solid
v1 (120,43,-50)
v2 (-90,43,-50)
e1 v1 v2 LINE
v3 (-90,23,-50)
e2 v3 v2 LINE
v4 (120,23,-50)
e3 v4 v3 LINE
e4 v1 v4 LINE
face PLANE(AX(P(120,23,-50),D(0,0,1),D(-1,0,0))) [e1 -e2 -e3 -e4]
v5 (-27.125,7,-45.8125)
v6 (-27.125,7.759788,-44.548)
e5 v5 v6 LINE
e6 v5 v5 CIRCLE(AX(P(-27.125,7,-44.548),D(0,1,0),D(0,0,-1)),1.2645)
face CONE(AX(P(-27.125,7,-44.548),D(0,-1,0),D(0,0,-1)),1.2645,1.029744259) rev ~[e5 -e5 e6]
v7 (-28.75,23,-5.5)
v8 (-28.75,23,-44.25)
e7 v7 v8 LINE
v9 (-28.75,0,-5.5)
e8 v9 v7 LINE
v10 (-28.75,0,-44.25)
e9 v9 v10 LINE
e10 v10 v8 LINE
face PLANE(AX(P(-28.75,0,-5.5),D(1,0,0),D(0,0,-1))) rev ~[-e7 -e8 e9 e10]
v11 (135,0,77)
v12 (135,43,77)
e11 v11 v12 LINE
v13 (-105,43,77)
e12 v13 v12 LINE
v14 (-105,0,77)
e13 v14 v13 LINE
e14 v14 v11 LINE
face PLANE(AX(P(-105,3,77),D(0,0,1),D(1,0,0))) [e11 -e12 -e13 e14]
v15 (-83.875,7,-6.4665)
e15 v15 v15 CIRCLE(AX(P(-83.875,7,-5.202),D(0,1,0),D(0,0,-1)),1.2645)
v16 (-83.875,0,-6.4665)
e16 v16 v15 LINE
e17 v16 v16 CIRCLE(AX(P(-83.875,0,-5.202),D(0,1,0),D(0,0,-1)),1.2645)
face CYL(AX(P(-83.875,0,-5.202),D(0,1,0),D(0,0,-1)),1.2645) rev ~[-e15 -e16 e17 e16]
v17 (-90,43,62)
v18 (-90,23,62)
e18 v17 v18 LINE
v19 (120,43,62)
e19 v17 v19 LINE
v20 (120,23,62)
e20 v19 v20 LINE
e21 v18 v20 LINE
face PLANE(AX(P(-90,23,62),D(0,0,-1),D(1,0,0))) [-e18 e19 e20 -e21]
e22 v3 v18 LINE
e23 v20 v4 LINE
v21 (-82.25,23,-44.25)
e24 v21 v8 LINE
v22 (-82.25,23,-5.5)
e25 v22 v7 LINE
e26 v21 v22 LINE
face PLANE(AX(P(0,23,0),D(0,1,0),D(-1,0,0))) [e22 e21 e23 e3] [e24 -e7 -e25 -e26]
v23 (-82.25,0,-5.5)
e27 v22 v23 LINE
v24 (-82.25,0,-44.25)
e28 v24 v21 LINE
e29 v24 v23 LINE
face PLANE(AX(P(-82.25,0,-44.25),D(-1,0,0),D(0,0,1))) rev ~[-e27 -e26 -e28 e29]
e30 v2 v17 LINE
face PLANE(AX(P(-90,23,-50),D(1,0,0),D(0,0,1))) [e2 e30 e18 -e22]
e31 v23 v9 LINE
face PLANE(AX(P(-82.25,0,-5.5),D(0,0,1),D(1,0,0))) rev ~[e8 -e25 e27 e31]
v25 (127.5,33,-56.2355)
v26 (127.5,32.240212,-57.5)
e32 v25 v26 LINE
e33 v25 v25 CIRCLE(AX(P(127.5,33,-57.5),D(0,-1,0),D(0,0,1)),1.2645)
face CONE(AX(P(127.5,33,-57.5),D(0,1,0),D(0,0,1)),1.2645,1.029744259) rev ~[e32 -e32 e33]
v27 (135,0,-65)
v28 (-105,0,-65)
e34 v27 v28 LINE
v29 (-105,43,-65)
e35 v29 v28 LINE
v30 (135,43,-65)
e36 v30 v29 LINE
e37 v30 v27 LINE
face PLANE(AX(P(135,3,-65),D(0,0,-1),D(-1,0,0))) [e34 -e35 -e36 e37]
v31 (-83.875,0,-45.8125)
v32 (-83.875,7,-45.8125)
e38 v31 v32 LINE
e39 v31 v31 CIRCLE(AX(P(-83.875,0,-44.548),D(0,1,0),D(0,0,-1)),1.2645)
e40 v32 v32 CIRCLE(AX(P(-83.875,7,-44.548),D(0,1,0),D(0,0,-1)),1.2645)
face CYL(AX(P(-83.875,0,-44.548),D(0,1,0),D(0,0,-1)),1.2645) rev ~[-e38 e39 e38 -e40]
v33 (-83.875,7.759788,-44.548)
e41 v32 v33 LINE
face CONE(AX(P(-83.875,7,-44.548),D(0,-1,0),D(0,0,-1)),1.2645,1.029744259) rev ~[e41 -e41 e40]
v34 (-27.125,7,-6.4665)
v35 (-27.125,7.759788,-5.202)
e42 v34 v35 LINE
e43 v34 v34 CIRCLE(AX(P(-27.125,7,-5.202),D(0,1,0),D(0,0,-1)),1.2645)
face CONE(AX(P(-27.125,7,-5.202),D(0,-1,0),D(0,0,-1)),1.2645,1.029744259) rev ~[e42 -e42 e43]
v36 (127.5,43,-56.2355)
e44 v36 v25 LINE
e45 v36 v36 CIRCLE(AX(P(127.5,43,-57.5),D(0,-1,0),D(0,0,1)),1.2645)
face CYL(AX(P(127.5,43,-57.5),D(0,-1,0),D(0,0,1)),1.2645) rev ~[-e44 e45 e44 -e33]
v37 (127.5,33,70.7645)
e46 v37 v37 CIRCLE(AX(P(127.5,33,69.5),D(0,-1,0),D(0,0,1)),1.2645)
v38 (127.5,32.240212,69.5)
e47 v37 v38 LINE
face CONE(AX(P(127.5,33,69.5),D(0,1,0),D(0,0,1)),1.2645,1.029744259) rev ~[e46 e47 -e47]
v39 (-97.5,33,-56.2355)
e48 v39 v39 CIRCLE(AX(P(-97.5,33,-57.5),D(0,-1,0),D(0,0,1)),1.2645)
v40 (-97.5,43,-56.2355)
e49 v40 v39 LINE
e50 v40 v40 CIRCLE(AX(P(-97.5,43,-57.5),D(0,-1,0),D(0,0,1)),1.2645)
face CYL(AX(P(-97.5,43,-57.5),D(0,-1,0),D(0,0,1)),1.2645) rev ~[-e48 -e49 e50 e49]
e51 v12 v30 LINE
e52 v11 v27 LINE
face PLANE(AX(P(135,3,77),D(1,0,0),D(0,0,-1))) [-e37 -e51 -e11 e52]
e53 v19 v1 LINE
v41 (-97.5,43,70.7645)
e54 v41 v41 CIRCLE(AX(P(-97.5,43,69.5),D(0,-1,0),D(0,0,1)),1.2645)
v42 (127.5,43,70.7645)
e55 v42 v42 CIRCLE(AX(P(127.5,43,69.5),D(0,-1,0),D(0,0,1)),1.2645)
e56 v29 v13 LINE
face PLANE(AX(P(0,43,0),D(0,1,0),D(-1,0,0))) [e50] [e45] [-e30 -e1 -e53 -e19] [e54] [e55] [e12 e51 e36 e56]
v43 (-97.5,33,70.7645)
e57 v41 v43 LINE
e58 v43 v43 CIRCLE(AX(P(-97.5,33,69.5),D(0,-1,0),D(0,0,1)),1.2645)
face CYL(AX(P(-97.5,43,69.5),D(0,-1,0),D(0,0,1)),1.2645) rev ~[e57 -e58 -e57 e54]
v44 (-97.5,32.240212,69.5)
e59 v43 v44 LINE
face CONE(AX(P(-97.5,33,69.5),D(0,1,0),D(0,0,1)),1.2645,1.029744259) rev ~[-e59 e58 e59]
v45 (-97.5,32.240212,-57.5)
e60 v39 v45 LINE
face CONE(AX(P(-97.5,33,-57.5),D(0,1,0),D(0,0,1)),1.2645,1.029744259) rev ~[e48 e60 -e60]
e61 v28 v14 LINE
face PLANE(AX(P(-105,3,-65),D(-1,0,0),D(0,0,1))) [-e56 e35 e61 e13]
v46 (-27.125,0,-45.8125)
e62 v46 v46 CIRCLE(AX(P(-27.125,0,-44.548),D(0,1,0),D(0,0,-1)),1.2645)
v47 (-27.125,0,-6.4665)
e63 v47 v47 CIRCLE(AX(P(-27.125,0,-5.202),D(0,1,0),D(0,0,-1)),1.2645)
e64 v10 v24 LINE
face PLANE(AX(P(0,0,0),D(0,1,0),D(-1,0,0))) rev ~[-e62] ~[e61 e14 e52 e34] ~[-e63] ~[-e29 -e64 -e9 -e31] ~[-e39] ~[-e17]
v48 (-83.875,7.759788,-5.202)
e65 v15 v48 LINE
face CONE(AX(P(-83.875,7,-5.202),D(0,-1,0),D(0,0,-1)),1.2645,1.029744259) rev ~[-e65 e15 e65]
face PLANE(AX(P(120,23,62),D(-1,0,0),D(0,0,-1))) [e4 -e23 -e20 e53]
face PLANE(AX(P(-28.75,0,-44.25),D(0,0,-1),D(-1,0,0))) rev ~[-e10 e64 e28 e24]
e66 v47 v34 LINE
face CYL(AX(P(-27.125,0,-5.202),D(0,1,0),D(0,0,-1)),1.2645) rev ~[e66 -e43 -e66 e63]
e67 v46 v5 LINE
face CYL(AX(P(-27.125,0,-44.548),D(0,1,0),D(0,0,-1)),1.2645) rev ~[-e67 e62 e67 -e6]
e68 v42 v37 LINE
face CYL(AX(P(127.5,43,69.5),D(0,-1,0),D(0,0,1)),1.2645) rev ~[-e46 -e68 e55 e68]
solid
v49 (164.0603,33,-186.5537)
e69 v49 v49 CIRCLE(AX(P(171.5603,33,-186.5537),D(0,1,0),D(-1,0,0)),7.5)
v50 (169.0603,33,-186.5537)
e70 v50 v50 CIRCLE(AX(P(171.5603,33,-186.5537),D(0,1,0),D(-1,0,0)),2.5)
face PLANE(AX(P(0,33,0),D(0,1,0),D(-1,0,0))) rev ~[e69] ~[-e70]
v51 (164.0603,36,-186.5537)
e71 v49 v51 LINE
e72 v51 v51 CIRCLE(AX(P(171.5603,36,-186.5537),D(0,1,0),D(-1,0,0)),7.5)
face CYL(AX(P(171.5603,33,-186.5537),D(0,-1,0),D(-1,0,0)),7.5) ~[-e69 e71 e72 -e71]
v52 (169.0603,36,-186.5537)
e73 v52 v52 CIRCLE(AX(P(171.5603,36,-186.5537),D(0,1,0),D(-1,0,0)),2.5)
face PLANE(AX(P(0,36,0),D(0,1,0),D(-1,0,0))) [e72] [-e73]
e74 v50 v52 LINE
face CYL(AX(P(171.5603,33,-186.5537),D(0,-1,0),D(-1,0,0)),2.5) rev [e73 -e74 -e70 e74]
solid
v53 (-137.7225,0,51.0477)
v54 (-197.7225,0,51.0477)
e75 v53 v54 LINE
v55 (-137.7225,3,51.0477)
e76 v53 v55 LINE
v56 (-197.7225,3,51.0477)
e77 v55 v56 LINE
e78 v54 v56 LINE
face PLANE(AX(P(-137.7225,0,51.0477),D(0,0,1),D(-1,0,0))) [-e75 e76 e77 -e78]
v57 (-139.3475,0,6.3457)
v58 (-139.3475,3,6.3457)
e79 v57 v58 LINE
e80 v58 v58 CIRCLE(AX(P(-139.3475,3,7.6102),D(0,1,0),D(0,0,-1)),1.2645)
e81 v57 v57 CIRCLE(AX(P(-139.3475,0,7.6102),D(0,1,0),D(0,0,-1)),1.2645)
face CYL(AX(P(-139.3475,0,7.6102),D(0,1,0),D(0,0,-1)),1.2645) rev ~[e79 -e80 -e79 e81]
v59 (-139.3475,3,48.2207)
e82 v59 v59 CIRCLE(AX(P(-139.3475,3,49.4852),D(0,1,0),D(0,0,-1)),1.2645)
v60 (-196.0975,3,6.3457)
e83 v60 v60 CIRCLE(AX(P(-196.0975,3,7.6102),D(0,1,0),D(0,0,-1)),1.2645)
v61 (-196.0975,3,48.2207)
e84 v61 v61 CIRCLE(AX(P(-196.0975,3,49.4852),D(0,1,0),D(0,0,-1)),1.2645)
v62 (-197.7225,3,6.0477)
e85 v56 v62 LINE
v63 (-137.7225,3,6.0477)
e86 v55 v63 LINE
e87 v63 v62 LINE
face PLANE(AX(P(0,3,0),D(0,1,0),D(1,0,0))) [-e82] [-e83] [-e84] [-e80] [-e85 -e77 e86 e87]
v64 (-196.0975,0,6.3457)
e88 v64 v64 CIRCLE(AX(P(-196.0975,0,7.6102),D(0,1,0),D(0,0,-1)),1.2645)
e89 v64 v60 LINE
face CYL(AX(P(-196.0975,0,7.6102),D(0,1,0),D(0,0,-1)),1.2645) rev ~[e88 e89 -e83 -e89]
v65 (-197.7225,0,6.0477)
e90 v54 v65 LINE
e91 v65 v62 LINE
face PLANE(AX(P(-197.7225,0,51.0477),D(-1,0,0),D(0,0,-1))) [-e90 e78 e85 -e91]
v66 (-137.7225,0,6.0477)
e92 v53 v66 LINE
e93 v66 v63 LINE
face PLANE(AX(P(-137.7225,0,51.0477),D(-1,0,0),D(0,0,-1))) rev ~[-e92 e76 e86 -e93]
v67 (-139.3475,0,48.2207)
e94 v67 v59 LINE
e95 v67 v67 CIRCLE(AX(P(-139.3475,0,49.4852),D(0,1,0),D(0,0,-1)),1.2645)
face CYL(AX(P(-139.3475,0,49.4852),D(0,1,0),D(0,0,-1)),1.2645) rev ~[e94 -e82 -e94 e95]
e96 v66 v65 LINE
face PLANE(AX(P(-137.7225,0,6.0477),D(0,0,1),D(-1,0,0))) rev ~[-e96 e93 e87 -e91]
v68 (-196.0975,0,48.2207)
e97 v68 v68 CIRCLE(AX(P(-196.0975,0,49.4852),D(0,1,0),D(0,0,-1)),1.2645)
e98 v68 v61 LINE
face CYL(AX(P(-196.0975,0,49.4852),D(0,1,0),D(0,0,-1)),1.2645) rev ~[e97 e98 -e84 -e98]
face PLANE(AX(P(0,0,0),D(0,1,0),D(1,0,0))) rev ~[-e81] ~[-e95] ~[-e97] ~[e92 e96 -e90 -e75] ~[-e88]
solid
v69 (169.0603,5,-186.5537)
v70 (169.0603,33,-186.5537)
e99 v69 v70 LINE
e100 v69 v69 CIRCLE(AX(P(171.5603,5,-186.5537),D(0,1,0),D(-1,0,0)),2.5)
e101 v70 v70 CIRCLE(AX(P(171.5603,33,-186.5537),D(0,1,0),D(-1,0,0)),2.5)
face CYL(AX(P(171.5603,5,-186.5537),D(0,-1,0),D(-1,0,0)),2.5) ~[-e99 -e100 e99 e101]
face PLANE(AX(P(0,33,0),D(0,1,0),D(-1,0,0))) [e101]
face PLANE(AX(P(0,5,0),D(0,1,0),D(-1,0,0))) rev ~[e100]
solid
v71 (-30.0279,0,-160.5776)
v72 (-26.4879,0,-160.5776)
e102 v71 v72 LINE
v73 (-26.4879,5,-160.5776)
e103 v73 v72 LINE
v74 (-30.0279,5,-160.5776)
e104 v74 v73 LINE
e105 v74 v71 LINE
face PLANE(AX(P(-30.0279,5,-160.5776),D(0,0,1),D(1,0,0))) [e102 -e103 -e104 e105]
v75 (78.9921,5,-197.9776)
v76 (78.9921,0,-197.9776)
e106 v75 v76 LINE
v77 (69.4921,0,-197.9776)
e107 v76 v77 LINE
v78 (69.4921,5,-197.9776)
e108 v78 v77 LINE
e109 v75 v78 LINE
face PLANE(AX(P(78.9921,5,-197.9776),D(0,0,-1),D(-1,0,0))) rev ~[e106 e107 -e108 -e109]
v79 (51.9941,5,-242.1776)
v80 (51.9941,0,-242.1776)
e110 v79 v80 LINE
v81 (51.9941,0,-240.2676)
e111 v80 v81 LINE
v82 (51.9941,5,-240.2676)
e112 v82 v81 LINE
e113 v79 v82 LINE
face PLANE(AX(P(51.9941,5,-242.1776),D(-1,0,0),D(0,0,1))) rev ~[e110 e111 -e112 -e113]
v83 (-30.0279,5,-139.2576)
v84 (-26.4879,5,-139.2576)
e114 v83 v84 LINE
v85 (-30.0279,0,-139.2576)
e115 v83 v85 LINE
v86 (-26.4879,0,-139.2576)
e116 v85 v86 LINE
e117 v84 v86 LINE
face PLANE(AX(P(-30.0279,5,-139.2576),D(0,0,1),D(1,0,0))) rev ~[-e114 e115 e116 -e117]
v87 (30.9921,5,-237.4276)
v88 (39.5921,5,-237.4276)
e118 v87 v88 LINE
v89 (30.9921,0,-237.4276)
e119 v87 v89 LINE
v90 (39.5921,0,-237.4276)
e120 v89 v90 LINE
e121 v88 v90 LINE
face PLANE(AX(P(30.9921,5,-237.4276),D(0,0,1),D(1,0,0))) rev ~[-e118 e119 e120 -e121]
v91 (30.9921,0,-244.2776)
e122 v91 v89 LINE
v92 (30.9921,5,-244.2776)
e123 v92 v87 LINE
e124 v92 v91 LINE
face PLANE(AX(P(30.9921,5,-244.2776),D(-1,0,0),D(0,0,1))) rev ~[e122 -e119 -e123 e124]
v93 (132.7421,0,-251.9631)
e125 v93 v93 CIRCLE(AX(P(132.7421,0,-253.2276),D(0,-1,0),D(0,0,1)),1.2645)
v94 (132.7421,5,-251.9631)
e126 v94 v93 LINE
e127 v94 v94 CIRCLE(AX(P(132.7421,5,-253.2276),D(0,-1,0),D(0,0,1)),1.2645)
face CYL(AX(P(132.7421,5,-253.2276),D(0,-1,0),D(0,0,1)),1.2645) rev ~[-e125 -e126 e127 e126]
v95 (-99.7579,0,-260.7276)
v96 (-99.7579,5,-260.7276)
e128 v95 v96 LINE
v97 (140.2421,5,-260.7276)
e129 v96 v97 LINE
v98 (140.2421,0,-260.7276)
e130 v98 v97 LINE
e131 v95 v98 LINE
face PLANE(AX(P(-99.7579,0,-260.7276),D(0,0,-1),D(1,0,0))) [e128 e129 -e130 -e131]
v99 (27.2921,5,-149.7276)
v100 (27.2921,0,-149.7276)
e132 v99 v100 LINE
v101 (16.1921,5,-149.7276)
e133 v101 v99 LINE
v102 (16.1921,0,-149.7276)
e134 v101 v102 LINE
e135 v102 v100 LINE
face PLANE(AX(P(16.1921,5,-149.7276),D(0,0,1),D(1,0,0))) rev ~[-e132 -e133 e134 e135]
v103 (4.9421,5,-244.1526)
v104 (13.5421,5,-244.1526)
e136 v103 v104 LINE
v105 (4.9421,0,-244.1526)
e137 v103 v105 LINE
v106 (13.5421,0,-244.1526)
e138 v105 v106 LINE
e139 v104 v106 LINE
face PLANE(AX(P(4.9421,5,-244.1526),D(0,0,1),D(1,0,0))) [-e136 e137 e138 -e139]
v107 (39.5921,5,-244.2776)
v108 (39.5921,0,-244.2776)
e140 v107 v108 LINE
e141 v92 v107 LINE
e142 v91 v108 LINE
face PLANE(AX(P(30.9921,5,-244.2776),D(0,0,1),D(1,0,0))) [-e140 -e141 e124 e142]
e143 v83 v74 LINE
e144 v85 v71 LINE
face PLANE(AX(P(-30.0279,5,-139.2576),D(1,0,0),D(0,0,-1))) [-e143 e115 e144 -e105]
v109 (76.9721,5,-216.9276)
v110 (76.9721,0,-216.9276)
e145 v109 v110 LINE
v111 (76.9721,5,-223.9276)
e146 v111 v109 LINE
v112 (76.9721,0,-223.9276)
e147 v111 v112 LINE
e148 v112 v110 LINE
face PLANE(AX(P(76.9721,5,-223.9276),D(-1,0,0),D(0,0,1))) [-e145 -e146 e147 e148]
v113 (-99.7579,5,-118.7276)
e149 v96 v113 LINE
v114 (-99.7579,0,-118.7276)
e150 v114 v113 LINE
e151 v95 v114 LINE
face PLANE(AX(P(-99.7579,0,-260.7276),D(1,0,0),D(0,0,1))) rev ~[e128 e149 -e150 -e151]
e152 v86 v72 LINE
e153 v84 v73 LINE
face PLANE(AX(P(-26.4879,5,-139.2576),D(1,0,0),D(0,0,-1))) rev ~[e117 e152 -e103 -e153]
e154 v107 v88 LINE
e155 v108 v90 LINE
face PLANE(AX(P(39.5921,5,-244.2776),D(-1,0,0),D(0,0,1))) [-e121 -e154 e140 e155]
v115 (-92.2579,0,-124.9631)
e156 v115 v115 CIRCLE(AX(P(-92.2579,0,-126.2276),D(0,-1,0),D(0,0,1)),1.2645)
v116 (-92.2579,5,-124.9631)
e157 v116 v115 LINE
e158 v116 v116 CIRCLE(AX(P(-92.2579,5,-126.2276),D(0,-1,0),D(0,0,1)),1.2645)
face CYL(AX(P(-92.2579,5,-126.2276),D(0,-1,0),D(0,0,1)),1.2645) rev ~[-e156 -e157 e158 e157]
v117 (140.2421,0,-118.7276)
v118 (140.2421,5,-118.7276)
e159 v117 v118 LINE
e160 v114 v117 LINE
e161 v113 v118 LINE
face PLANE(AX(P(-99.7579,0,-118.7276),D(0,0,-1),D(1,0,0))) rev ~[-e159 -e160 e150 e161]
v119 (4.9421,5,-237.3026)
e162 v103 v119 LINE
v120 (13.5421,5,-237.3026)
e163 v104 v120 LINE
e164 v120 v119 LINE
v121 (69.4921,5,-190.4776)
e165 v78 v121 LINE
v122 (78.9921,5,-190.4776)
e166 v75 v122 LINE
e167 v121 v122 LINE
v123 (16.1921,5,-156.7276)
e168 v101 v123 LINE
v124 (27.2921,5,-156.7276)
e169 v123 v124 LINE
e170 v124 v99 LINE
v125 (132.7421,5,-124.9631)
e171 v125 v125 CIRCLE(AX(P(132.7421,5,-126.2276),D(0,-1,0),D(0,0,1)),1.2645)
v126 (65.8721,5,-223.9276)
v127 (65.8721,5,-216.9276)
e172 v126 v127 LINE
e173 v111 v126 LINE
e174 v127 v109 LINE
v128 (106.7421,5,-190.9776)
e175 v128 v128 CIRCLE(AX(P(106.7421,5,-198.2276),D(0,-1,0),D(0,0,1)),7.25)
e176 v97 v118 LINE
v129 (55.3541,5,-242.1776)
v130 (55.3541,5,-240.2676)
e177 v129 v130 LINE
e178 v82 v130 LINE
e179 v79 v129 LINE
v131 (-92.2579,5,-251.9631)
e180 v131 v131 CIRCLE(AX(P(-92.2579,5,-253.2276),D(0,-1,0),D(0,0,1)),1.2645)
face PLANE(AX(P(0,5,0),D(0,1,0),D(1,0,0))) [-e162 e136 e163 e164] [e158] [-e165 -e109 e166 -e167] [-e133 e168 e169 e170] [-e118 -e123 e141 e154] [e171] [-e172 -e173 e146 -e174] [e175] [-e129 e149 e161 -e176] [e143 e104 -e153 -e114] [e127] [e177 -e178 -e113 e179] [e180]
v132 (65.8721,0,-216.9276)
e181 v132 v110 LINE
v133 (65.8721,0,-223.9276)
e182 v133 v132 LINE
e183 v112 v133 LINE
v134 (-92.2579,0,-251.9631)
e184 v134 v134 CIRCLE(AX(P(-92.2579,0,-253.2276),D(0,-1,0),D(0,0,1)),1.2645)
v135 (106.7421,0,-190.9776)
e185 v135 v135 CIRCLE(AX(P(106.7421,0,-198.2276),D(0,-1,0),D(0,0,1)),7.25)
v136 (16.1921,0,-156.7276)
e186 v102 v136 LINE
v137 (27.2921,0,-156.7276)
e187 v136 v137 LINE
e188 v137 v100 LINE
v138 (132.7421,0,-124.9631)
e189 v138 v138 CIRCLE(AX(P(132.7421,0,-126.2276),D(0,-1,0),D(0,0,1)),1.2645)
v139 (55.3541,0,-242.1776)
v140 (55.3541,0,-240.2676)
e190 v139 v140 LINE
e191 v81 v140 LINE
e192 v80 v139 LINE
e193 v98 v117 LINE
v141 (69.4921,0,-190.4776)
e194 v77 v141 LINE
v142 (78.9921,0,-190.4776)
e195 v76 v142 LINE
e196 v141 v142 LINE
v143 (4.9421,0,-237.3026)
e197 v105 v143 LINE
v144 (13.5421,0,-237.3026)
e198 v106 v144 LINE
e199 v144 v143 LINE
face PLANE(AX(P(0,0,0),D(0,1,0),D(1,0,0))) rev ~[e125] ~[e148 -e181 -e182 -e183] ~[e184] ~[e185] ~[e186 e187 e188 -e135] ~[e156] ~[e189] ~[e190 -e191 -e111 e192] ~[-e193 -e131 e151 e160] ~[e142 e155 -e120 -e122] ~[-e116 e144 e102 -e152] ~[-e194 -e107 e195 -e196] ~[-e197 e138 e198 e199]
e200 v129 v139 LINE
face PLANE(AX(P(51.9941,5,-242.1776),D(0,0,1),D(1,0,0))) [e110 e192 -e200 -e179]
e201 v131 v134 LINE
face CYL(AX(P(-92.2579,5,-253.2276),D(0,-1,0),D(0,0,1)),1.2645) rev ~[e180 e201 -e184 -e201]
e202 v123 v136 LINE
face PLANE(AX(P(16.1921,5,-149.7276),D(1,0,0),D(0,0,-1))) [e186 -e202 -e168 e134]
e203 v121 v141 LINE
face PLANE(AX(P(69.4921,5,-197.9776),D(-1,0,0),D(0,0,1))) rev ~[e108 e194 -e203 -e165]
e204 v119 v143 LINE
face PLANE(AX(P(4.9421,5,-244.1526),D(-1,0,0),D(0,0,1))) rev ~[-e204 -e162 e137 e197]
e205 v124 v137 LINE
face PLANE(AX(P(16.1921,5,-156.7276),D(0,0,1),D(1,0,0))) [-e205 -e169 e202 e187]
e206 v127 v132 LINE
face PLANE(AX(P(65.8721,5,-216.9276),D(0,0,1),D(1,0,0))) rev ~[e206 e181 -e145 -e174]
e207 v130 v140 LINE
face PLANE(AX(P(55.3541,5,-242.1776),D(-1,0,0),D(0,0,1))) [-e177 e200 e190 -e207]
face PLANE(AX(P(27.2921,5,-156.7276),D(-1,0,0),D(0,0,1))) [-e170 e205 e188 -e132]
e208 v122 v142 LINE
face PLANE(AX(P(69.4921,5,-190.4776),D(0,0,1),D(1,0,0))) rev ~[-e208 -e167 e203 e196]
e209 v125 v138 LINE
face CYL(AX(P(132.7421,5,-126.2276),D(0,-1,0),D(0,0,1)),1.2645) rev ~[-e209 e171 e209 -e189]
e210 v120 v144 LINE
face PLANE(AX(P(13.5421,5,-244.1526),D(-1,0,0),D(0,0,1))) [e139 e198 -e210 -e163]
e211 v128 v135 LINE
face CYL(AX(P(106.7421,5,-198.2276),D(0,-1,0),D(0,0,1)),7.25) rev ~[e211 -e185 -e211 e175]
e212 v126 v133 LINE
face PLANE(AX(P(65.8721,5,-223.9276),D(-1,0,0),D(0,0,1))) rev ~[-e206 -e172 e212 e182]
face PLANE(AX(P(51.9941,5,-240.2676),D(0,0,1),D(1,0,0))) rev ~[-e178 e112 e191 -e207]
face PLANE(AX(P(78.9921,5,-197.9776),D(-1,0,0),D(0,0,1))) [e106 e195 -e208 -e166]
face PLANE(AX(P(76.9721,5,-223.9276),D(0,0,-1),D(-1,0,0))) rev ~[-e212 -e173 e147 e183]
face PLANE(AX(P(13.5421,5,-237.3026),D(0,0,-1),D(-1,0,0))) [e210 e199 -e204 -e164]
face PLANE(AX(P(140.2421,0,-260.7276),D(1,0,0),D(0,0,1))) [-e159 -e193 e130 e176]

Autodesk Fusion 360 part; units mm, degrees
sketch "Sketch1" plane through (0, 0, 0) normal (0, 1, 0) x (1, 0, 0)
  line L0 (-90, -62) -> (-90, 50)
  line L1 (-90, 50) -> (120, 50)
  line L2 (120, 50) -> (120, -62)
  line L3 (-90, -62) -> (120, -62)
  line L4 (-90, 50) -> (-105, 50)
  line L5 (-90, -62) -> (-105, -62)
  line L6 (135, 50) -> (120, 50)
  line L7 (135, -62) -> (120, -62)
  line L8 (120, -62) -> (120, -77)
  line L9 (120, 65) -> (120, 50)
  line L10 (-90, -62) -> (-90, -77)
  line L11 (-90, 65) -> (-90, 50)
  line L12 (-105, 65.7392) -> (135, 65.7392)
  line L13 (-105, -76.2608) -> (135, -76.2608)
  line L14 (135, 65.7392) -> (135, -76.2608)
  line L15 (-105, 65.7392) -> (-105, -76.2608)
  point P0 (-90, 50)
  point P1 (120, -62)
  dimension "d1" = 112
  dimension "d2" = 210
  dimension "d4" = 112
  dimension "d5" = 15
  dimension "d6" = 15
  dimension "d7" = 15
  dimension "d8" = 15
  dimension "d9" = 15
  dimension "d10" = 15
  dimension "d11" = 15
  dimension "d12" = 15
  dimension "d13" = 240
  dimension "d14" = 240
extrude "Extrude1" add sketch "Sketch1" along normal blind 3 contours L0 L1 L2 L3 makes body 1
sketch "Sketch2" plane through (0, 3, 0) normal (0, 1, 0) x (-1, 0, 0)
  line L0 (90, -50) -> (90, 62)
  line L1 (90, 62) -> (-120, 62)
  line L2 (-120, 62) -> (-120, -50)
  line L3 (-120, -50) -> (90, -50)
  line L4 (105, 77) -> (-135, 77)
  line L5 (-135, 77) -> (-135, -65)
  line L6 (-135, -65) -> (105, -65)
  line L7 (105, -65) -> (105, 77)
  dimension "d17" = 15
extrude "Extrude2" add sketch "Sketch2" along normal blind 20 separate body makes body 2
extrude "Extrude3" add 1 faces at (-20, 3, -12.6667) along direction (0, 1, 0) blind 10 on bodies 1 bodies 1 2
extrude "Extrude4" add 1 faces at (-20, 23, 72) along direction (0, 1, 0) blind 20 on bodies 1 bodies 1
sketch "Sketch3" plane through (0, 13, 0) normal (0, 1, 0) x (-1, 0, 0)
  line L0 (90, -50) -> (90, 62)
  line L1 (90, 62) -> (-120, 62)
  line L2 (-120, 62) -> (-120, -50)
  line L3 (-120, -50) -> (90, -50)
extrude "Extrude5" add 1 faces at (-20, 3, -60) along direction (0, -1, 0) blind 3 on bodies 1 bodies 1
extrude "Extrude6" add sketch "Sketch3" along normal blind 10 bodies 1
sketch "Sketch4" plane through (0, 23, 0) normal (0, 1, 0) x (-1, 0, 0)
  line L0 (-120, -50) -> (90, -50)
  line L1 (90, -50) -> (90, 62)
  line L2 (90, 62) -> (-120, 62)
  line L3 (-120, 62) -> (-120, -50)
  line L4 (82.25, -44.25) -> (82.25, -5.5)
  line L5 (82.25, -44.25) -> (28.75, -44.25)
  line L6 (82.25, -5.5) -> (28.75, -5.5)
  line L7 (28.75, -5.5) -> (28.75, -44.25)
  dimension "d30" = 38.75
  dimension "d31" = 53.5
  dimension "d32" = 53.5
extrude "Extrude7" cut sketch "Sketch4" against normal blind 40 contours L4 L5 L6 L7 bodies 1
sketch "Sketch5" plane through (0, 0, 0) normal (0, -1, 0) x (1, 0, 0)
  line L0 (-82.25, -5.5) -> (-28.75, -5.5)
  line L1 (-28.75, -5.5) -> (-28.75, -44.25)
  line L2 (-28.75, -44.25) -> (-82.25, -44.25)
  line L3 (-82.25, -44.25) -> (-82.25, -5.5)
  line L4 (-105, 77) -> (-105, -65)
  line L5 (-105, -65) -> (135, -65)
  line L6 (135, -65) -> (135, 77)
  line L7 (135, 77) -> (-105, 77)
  line L8 (-85.5537, -2.4963) -> (-24.2818, -2.4963)
  line L9 (-24.2818, -2.4963) -> (-24.2818, -47.202)
  line L10 (-24.2818, -47.202) -> (-85.5537, -47.202)
  line L11 (-85.5537, -47.202) -> (-85.5537, -2.4963)
extrude "Extrude8" add sketch "Sketch5" along normal blind 3 contours L8 L9 L10 L11 bodies 1
sketch "Sketch6" plane through (0, 0, 0) normal (0, 1, 0) x (1, 0, 0)
sketch "Sketch7" plane through (0, 0, 0) normal (0, 1, 0) x (1, 0, 0)
  line L0 (-137.7225, -51.0477) -> (-137.7225, -6.0477)
  line L1 (-137.7225, -51.0477) -> (-197.7225, -51.0477)
  line L2 (-137.7225, -6.0477) -> (-197.7225, -6.0477)
  line L3 (-197.7225, -51.0477) -> (-197.7225, -6.0477)
  dimension "d37" = 45
  dimension "d38" = 60
  dimension "d39" = 60
extrude "Extrude9" add sketch "Sketch7" along normal blind 3 separate body makes body 3
sketch "Sketch8" plane through (0, -3, 0) normal (0, -1, 0) x (1, 0, 0)
  line L0 (-28.75, -44.25) -> (-82.25, -44.25)
  line L1 (-82.25, -44.25) -> (-82.25, -5.5)
  line L2 (-82.25, -5.5) -> (-28.75, -5.5)
  line L3 (-28.75, -5.5) -> (-28.75, -44.25)
  line L4 (-85.5537, -47.202) -> (-24.2818, -47.202)
  line L5 (-24.2818, -47.202) -> (-24.2818, -2.4963)
  line L6 (-24.2818, -2.4963) -> (-85.5537, -2.4963)
  line L7 (-85.5537, -2.4963) -> (-85.5537, -47.202)
extrude "Extrude10" cut sketch "Sketch8" against normal blind 2 bodies 1
extrude "Extrude11" cut 1 faces at (-25.7712, -1, -18.3994) along direction (0, 1, 0) blind 0.8 on bodies 1 bodies 1
extrude "Extrude12" cut 1 faces at (-25.7712, -0.2, -18.3994) along direction (0, 1, 0) blind 0.2 on bodies 1 bodies 1
sketch "Sketch11" plane through (0, 0, 0) normal (0, -1, 0) x (1, 0, 0)
  line L0 (-137.7225, 6.0477) -> (-137.7225, 51.0477)
  line L1 (-137.7225, 51.0477) -> (-197.7225, 51.0477)
  line L2 (-197.7225, 51.0477) -> (-197.7225, 6.0477)
  line L3 (-197.7225, 6.0477) -> (-137.7225, 6.0477)
  line L4 (-137.7225, 6.0477) -> (-139.3475, 6.0477)
  line L5 (-139.3475, 6.0477) -> (-139.3475, 7.6102)
  dimension "d84" = 1.625
  dimension "d85" = 1.5625
hole "Hole7" at (-139.3475, 0, 7.6102) direction (0, 1, 0) diameter 2.529 depth 3 tip angle 118 bodies 3
sketch "Sketch12" plane through (0, 0, 0) normal (0, -1, 0) x (1, 0, 0)
  circle A0 centre (-139.3475, 7.6102) radius 1.2645
  line L0 (-137.7225, 6.0477) -> (-137.7225, 51.0477)
  line L1 (-137.7225, 51.0477) -> (-197.7225, 51.0477)
  line L2 (-197.7225, 51.0477) -> (-197.7225, 6.0477)
  line L3 (-197.7225, 6.0477) -> (-137.7225, 6.0477)
  line L4 (-197.7225, 6.0477) -> (-196.0975, 6.0477)
  line L5 (-196.0975, 6.0477) -> (-196.0975, 7.6102)
  dimension "d91" = 1.625
  dimension "d92" = 1.5625
hole "Hole8" at (-196.0975, 0, 7.6102) direction (0, 1, 0) diameter 2.529 depth 5 tip angle 118 bodies 3
sketch "Sketch13" plane through (0, 0, 0) normal (0, -1, 0) x (1, 0, 0)
  circle A0 centre (-196.0975, 7.6102) radius 1.2645
  circle A1 centre (-139.3475, 7.6102) radius 1.2645
  line L0 (-137.7225, 6.0477) -> (-137.7225, 51.0477)
  line L1 (-137.7225, 51.0477) -> (-197.7225, 51.0477)
  line L2 (-197.7225, 51.0477) -> (-197.7225, 6.0477)
  line L3 (-197.7225, 6.0477) -> (-137.7225, 6.0477)
  line L4 (-137.7225, 51.0477) -> (-139.3475, 51.0477)
  line L5 (-139.3475, 51.0477) -> (-139.3475, 49.4852)
  dimension "d98" = 1.625
  dimension "d99" = 1.5625
hole "Hole9" at (-139.3475, 0, 49.4852) direction (0, 1, 0) diameter 2.529 depth 6 tip angle 118 bodies 3
sketch "Sketch14" plane through (0, 0, 0) normal (0, -1, 0) x (1, 0, 0)
  circle A0 centre (-139.3475, 49.4852) radius 1.2645
  circle A1 centre (-196.0975, 7.6102) radius 1.2645
  circle A2 centre (-139.3475, 7.6102) radius 1.2645
  line L0 (-137.7225, 6.0477) -> (-137.7225, 51.0477)
  line L1 (-137.7225, 51.0477) -> (-197.7225, 51.0477)
  line L2 (-197.7225, 51.0477) -> (-197.7225, 6.0477)
  line L3 (-197.7225, 6.0477) -> (-137.7225, 6.0477)
  line L4 (-197.7225, 51.0477) -> (-196.0975, 51.0477)
  line L5 (-196.0975, 51.0477) -> (-196.0975, 49.4852)
  dimension "d105" = 1.625
  dimension "d106" = 1.5625
hole "Hole10" at (-196.0975, 0, 49.4852) direction (0, 1, 0) diameter 2.529 depth 4 tip angle 118 bodies 3
sketch "Sketch15" plane through (0, 0, 0) normal (0, -1, 0) x (1, 0, 0)
  line L0 (-82.25, -5.5) -> (-28.75, -5.5)
  line L1 (-28.75, -5.5) -> (-28.75, -44.25)
  line L2 (-28.75, -44.25) -> (-82.25, -44.25)
  line L3 (-82.25, -44.25) -> (-82.25, -5.5)
  line L4 (-105, 77) -> (-105, -65)
  line L5 (-105, -65) -> (135, -65)
  line L6 (135, -65) -> (135, 77)
  line L7 (135, 77) -> (-105, 77)
  line L8 (-28.75, -44.25) -> (-27.125, -44.25)
  line L9 (-27.125, -44.25) -> (-27.125, -44.548)
  dimension "d112" = 1.625
  dimension "d113" = 0.298
hole "Hole11" at (-27.125, 0, -44.548) direction (0, 1, 0) diameter 2.529 depth 7 tip angle 118 bodies 1
sketch "Sketch16" plane through (0, 0, 0) normal (0, -1, 0) x (1, 0, 0)
  circle A0 centre (-27.125, -44.548) radius 1.2645
  line L0 (-82.25, -5.5) -> (-28.75, -5.5)
  line L1 (-28.75, -5.5) -> (-28.75, -44.25)
  line L2 (-28.75, -44.25) -> (-82.25, -44.25)
  line L3 (-82.25, -44.25) -> (-82.25, -5.5)
  line L4 (-105, 77) -> (-105, -65)
  line L5 (-105, -65) -> (135, -65)
  line L6 (135, -65) -> (135, 77)
  line L7 (135, 77) -> (-105, 77)
  line L8 (-82.25, -44.25) -> (-83.875, -44.25)
  line L9 (-83.875, -44.25) -> (-83.875, -44.548)
  dimension "d119" = 1.625
  dimension "d120" = 0.298
hole "Hole12" at (-83.875, 0, -44.548) direction (0, 1, 0) diameter 2.529 depth 7 tip angle 118 bodies 1
sketch "Sketch17" plane through (0, 0, 0) normal (0, -1, 0) x (1, 0, 0)
  circle A0 centre (-83.875, -44.548) radius 1.2645
  circle A1 centre (-27.125, -44.548) radius 1.2645
  line L0 (-82.25, -5.5) -> (-28.75, -5.5)
  line L1 (-28.75, -5.5) -> (-28.75, -44.25)
  line L2 (-28.75, -44.25) -> (-82.25, -44.25)
  line L3 (-82.25, -44.25) -> (-82.25, -5.5)
  line L4 (-105, 77) -> (-105, -65)
  line L5 (-105, -65) -> (135, -65)
  line L6 (135, -65) -> (135, 77)
  line L7 (135, 77) -> (-105, 77)
  line L8 (-28.75, -5.5) -> (-27.125, -5.5)
  line L9 (-27.125, -5.5) -> (-27.125, -5.202)
  dimension "d126" = 1.625
  dimension "d127" = 0.298
hole "Hole13" at (-27.125, 0, -5.202) direction (0, 1, 0) diameter 2.529 depth 7 tip angle 118 bodies 1
sketch "Sketch18" plane through (0, 0, 0) normal (0, -1, 0) x (1, 0, 0)
  circle A0 centre (-27.125, -5.202) radius 1.2645
  circle A1 centre (-83.875, -44.548) radius 1.2645
  circle A2 centre (-27.125, -44.548) radius 1.2645
  line L0 (-82.25, -5.5) -> (-28.75, -5.5)
  line L1 (-28.75, -5.5) -> (-28.75, -44.25)
  line L2 (-28.75, -44.25) -> (-82.25, -44.25)
  line L3 (-82.25, -44.25) -> (-82.25, -5.5)
  line L4 (-105, 77) -> (-105, -65)
  line L5 (-105, -65) -> (135, -65)
  line L6 (135, -65) -> (135, 77)
  line L7 (135, 77) -> (-105, 77)
  line L8 (-82.25, -5.5) -> (-83.875, -5.5)
  line L9 (-83.875, -5.5) -> (-83.875, -5.202)
  dimension "d133" = 1.625
  dimension "d134" = 0.298
hole "Hole14" at (-83.875, 0, -5.202) direction (0, 1, 0) diameter 2.529 depth 7 tip angle 118 bodies 1
sketch "Sketch19" plane through (0, 0, 0) normal (0, 1, 0) x (1, 0, 0)
  line L0 (-99.7579, 260.7276) -> (-99.7579, 118.7276)
  line L1 (-99.7579, 260.7276) -> (140.2421, 260.7276)
  line L2 (140.2421, 260.7276) -> (140.2421, 118.7276)
  line L3 (-99.7579, 118.7276) -> (140.2421, 118.7276)
  dimension "d140" = 142
  dimension "d141" = 240
  dimension "d142" = 142
extrude "Extrude13" add sketch "Sketch19" along normal blind 5 separate body makes body 4
sketch "Sketch20" plane through (0, 5, 0) normal (0, 1, 0) x (-1, 0, 0)
  line L0 (99.7579, -260.7276) -> (99.7579, -118.7276)
  line L1 (99.7579, -118.7276) -> (-140.2421, -118.7276)
  line L2 (-140.2421, -118.7276) -> (-140.2421, -260.7276)
  line L3 (-140.2421, -260.7276) -> (99.7579, -260.7276)
  line L4 (99.7579, -260.7276) -> (92.2579, -260.7276)
  line L5 (92.2579, -260.7276) -> (92.2579, -253.2276)
  dimension "d145" = 7.5
  dimension "d146" = 7.5
hole "Hole15" at (-92.2579, 5, -253.2276) direction (0, -1, 0) diameter 2.529 depth 5 tip angle 118 bodies 4
sketch "Sketch21" plane through (0, 5, 0) normal (0, 1, 0) x (-1, 0, 0)
  circle A0 centre (92.2579, -253.2276) radius 1.2645
  line L0 (99.7579, -260.7276) -> (99.7579, -118.7276)
  line L1 (99.7579, -118.7276) -> (-140.2421, -118.7276)
  line L2 (-140.2421, -118.7276) -> (-140.2421, -260.7276)
  line L3 (-140.2421, -260.7276) -> (99.7579, -260.7276)
  line L4 (-140.2421, -260.7276) -> (-132.7421, -260.7276)
  line L5 (-132.7421, -260.7276) -> (-132.7421, -253.2276)
  dimension "d152" = 7.5
  dimension "d153" = 7.5
hole "Hole16" at (132.7421, 5, -253.2276) direction (0, -1, 0) diameter 2.529 depth 5 tip angle 118 bodies 4
sketch "Sketch22" plane through (0, 5, 0) normal (0, 1, 0) x (-1, 0, 0)
  circle A0 centre (-132.7421, -253.2276) radius 1.2645
  circle A1 centre (92.2579, -253.2276) radius 1.2645
  line L0 (99.7579, -260.7276) -> (99.7579, -118.7276)
  line L1 (99.7579, -118.7276) -> (-140.2421, -118.7276)
  line L2 (-140.2421, -118.7276) -> (-140.2421, -260.7276)
  line L3 (-140.2421, -260.7276) -> (99.7579, -260.7276)
  line L4 (99.7579, -118.7276) -> (92.2579, -118.7276)
  line L5 (92.2579, -118.7276) -> (92.2579, -126.2276)
  dimension "d159" = 7.5
  dimension "d160" = 7.5
hole "Hole17" at (-92.2579, 5, -126.2276) direction (0, -1, 0) diameter 2.529 depth 5 tip angle 118 bodies 4
sketch "Sketch23" plane through (0, 5, 0) normal (0, 1, 0) x (-1, 0, 0)
  circle A0 centre (92.2579, -126.2276) radius 1.2645
  circle A1 centre (-132.7421, -253.2276) radius 1.2645
  circle A2 centre (92.2579, -253.2276) radius 1.2645
  line L0 (99.7579, -260.7276) -> (99.7579, -118.7276)
  line L1 (99.7579, -118.7276) -> (-140.2421, -118.7276)
  line L2 (-140.2421, -118.7276) -> (-140.2421, -260.7276)
  line L3 (-140.2421, -260.7276) -> (99.7579, -260.7276)
  line L4 (-140.2421, -118.7276) -> (-132.7421, -118.7276)
  line L5 (-132.7421, -118.7276) -> (-132.7421, -126.2276)
  dimension "d166" = 7.5
  dimension "d167" = 7.5
hole "Hole18" at (132.7421, 5, -126.2276) direction (0, -1, 0) diameter 2.529 depth 5 tip angle 118 bodies 4
sketch "Sketch24" plane through (0, 43, 0) normal (0, 1, 0) x (-1, 0, 0)
  line L0 (90, -50) -> (-120, -50)
  line L1 (-120, -50) -> (-120, 62)
  line L2 (-120, 62) -> (90, 62)
  line L3 (90, 62) -> (90, -50)
  line L4 (105, -65) -> (105, 77)
  line L5 (105, 77) -> (-135, 77)
  line L6 (-135, 77) -> (-135, -65)
  line L7 (-135, -65) -> (105, -65)
  line L8 (105, -65) -> (97.5, -65)
  line L9 (97.5, -65) -> (97.5, -57.5)
  dimension "d173" = 7.5
  dimension "d174" = 7.5
hole "Hole19" at (-97.5, 43, -57.5) direction (0, -1, 0) diameter 2.529 depth 10 tip angle 118 bodies 1
sketch "Sketch25" plane through (0, 43, 0) normal (0, 1, 0) x (-1, 0, 0)
  circle A0 centre (97.5, -57.5) radius 1.2645
  line L0 (90, -50) -> (-120, -50)
  line L1 (-120, -50) -> (-120, 62)
  line L2 (-120, 62) -> (90, 62)
  line L3 (90, 62) -> (90, -50)
  line L4 (105, -65) -> (105, 77)
  line L5 (105, 77) -> (-135, 77)
  line L6 (-135, 77) -> (-135, -65)
  line L7 (-135, -65) -> (105, -65)
  line L8 (-135, -65) -> (-127.5, -65)
  line L9 (-127.5, -65) -> (-127.5, -57.5)
  dimension "d180" = 7.5
  dimension "d181" = 7.5
hole "Hole20" at (127.5, 43, -57.5) direction (0, -1, 0) diameter 2.529 depth 10 tip angle 118 bodies 1
sketch "Sketch26" plane through (0, 43, 0) normal (0, 1, 0) x (-1, 0, 0)
  circle A0 centre (-127.5, -57.5) radius 1.2645
  circle A1 centre (97.5, -57.5) radius 1.2645
  line L0 (90, -50) -> (-120, -50)
  line L1 (-120, -50) -> (-120, 62)
  line L2 (-120, 62) -> (90, 62)
  line L3 (90, 62) -> (90, -50)
  line L4 (105, -65) -> (105, 77)
  line L5 (105, 77) -> (-135, 77)
  line L6 (-135, 77) -> (-135, -65)
  line L7 (-135, -65) -> (105, -65)
  line L8 (-135, 77) -> (-127.5, 77)
  line L9 (-127.5, 77) -> (-127.5, 69.5)
  dimension "d187" = 7.5
  dimension "d188" = 7.5
hole "Hole21" at (127.5, 43, 69.5) direction (0, -1, 0) diameter 2.529 depth 10 tip angle 118 bodies 1
sketch "Sketch27" plane through (0, 43, 0) normal (0, 1, 0) x (-1, 0, 0)
  circle A0 centre (-127.5, 69.5) radius 1.2645
  circle A1 centre (-127.5, -57.5) radius 1.2645
  circle A2 centre (97.5, -57.5) radius 1.2645
  line L0 (90, -50) -> (-120, -50)
  line L1 (-120, -50) -> (-120, 62)
  line L2 (-120, 62) -> (90, 62)
  line L3 (90, 62) -> (90, -50)
  line L4 (105, -65) -> (105, 77)
  line L5 (105, 77) -> (-135, 77)
  line L6 (-135, 77) -> (-135, -65)
  line L7 (-135, -65) -> (105, -65)
  line L8 (105, 77) -> (97.5, 77)
  line L9 (97.5, 77) -> (97.5, 69.5)
  dimension "d194" = 7.5
  dimension "d195" = 7.5
hole "Hole22" at (-97.5, 43, 69.5) direction (0, -1, 0) diameter 2.529 depth 10 tip angle 118 bodies 1
sketch "Sketch28" plane through (0, 5, 0) normal (0, 1, 0) x (-1, 0, 0)
  circle A0 centre (-132.7421, -126.2276) radius 1.2645
  circle A1 centre (92.2579, -126.2276) radius 1.2645
  circle A2 centre (-132.7421, -253.2276) radius 1.2645
  circle A3 centre (92.2579, -253.2276) radius 1.2645
  line L0 (99.7579, -260.7276) -> (99.7579, -118.7276)
  line L1 (99.7579, -118.7276) -> (-140.2421, -118.7276)
  line L2 (-140.2421, -118.7276) -> (-140.2421, -260.7276)
  line L3 (-140.2421, -260.7276) -> (99.7579, -260.7276)
  line L4 (-140.2421, -260.7276) -> (-140.2421, -198.2276)
  line L5 (-140.2421, -198.2276) -> (-106.7421, -198.2276)
  dimension "d203" = 62.5
  dimension "d204" = 33.5
hole "Hole23" at (106.7421, 5, -198.2276) direction (0, -1, 0) diameter 14.5 depth 5 tip angle 180 bodies 4
sketch "Sketch29" plane through (0, 5, 0) normal (0, 1, 0) x (-1, 0, 0)
  circle A0 centre (-106.7421, -198.2276) radius 7.25
  circle A1 centre (-132.7421, -126.2276) radius 1.2645
  circle A2 centre (92.2579, -126.2276) radius 1.2645
  circle A3 centre (-132.7421, -253.2276) radius 1.2645
  circle A4 centre (92.2579, -253.2276) radius 1.2645
  line L0 (99.7579, -260.7276) -> (99.7579, -118.7276)
  line L1 (99.7579, -118.7276) -> (-140.2421, -118.7276)
  line L2 (-140.2421, -118.7276) -> (-140.2421, -260.7276)
  line L3 (-140.2421, -260.7276) -> (99.7579, -260.7276)
  line L4 (-4.9421, -244.1526) -> (-13.5421, -244.1526)
  line L5 (-13.5421, -244.1526) -> (-13.5421, -237.3026)
  line L6 (-13.5421, -237.3026) -> (-4.9421, -237.3026)
  line L7 (-4.9421, -244.1526) -> (-4.9421, -237.3026)
  dimension "d210" = 8.6
  dimension "d211" = 6.85
  dimension "d212" = 8.6
extrude "Extrude14" cut sketch "Sketch29" against normal blind 10 contours L4 L5 L6 L7 bodies 4
sketch "Sketch30" plane through (0, 5, 0) normal (0, 1, 0) x (-1, 0, 0)
  line L0 (-4.9421, -237.3026) -> (-4.9421, -244.1526)
  line L1 (-4.9421, -244.1526) -> (-13.5421, -244.1526)
  line L2 (-13.5421, -244.1526) -> (-13.5421, -237.3026)
  line L3 (-13.5421, -237.3026) -> (-4.9421, -237.3026)
  circle A0 centre (-106.7421, -198.2276) radius 7.25
  circle A1 centre (-132.7421, -126.2276) radius 1.2645
  circle A2 centre (92.2579, -126.2276) radius 1.2645
  circle A3 centre (-132.7421, -253.2276) radius 1.2645
  circle A4 centre (92.2579, -253.2276) radius 1.2645
  line L4 (99.7579, -260.7276) -> (99.7579, -118.7276)
  line L5 (99.7579, -118.7276) -> (-140.2421, -118.7276)
  line L6 (-140.2421, -118.7276) -> (-140.2421, -260.7276)
  line L7 (-140.2421, -260.7276) -> (99.7579, -260.7276)
  line L8 (-30.9921, -244.2776) -> (-39.5921, -244.2776)
  line L9 (-39.5921, -244.2776) -> (-39.5921, -237.4276)
  line L10 (-30.9921, -244.2776) -> (-30.9921, -237.4276)
  line L11 (-30.9921, -237.4276) -> (-39.5921, -237.4276)
  dimension "d217" = 8.6
  dimension "d218" = 6.85
  dimension "d219" = 6.85
extrude "Extrude15" cut sketch "Sketch30" against normal blind 15 contours L8 L9 L10 L11 bodies 4
sketch "Sketch31" plane through (0, 5, 0) normal (0, 1, 0) x (-1, 0, 0)
  line L0 (-39.5921, -237.4276) -> (-30.9921, -237.4276)
  line L1 (-30.9921, -237.4276) -> (-30.9921, -244.2776)
  line L2 (-30.9921, -244.2776) -> (-39.5921, -244.2776)
  line L3 (-39.5921, -244.2776) -> (-39.5921, -237.4276)
  line L4 (-4.9421, -237.3026) -> (-4.9421, -244.1526)
  line L5 (-4.9421, -244.1526) -> (-13.5421, -244.1526)
  line L6 (-13.5421, -244.1526) -> (-13.5421, -237.3026)
  line L7 (-13.5421, -237.3026) -> (-4.9421, -237.3026)
  circle A0 centre (-106.7421, -198.2276) radius 7.25
  circle A1 centre (-132.7421, -126.2276) radius 1.2645
  circle A2 centre (92.2579, -126.2276) radius 1.2645
  circle A3 centre (-132.7421, -253.2276) radius 1.2645
  circle A4 centre (92.2579, -253.2276) radius 1.2645
  line L8 (99.7579, -260.7276) -> (99.7579, -118.7276)
  line L9 (99.7579, -118.7276) -> (-140.2421, -118.7276)
  line L10 (-140.2421, -118.7276) -> (-140.2421, -260.7276)
  line L11 (-140.2421, -260.7276) -> (99.7579, -260.7276)
  line L12 (-51.9941, -242.1776) -> (-55.3541, -242.1776)
  line L13 (-51.9941, -242.1776) -> (-51.9941, -240.2676)
  line L14 (-51.9941, -240.2676) -> (-55.3541, -240.2676)
  line L15 (-55.3541, -242.1776) -> (-55.3541, -240.2676)
  dimension "d226" = 3.36
  dimension "d227" = 1.91
  dimension "d228" = 3.36
extrude "Extrude16" cut sketch "Sketch31" against normal blind 8 contours L12 L13 L14 L15 bodies 4
sketch "Sketch32" plane through (0, 5, 0) normal (0, 1, 0) x (-1, 0, 0)
  line L0 (99.7579, -260.7276) -> (99.7579, -118.7276)
  line L1 (99.7579, -118.7276) -> (-140.2421, -118.7276)
  line L2 (-140.2421, -118.7276) -> (-140.2421, -260.7276)
  line L3 (-140.2421, -260.7276) -> (99.7579, -260.7276)
  circle A0 centre (92.2579, -253.2276) radius 1.2645
  circle A1 centre (-132.7421, -253.2276) radius 1.2645
  circle A2 centre (92.2579, -126.2276) radius 1.2645
  circle A3 centre (-132.7421, -126.2276) radius 1.2645
  circle A4 centre (-106.7421, -198.2276) radius 7.25
  line L4 (-4.9421, -237.3026) -> (-4.9421, -244.1526)
  line L5 (-4.9421, -244.1526) -> (-13.5421, -244.1526)
  line L6 (-13.5421, -244.1526) -> (-13.5421, -237.3026)
  line L7 (-13.5421, -237.3026) -> (-4.9421, -237.3026)
  line L8 (-39.5921, -237.4276) -> (-30.9921, -237.4276)
  line L9 (-30.9921, -237.4276) -> (-30.9921, -244.2776)
  line L10 (-30.9921, -244.2776) -> (-39.5921, -244.2776)
  line L11 (-39.5921, -244.2776) -> (-39.5921, -237.4276)
  line L12 (-55.3541, -240.2676) -> (-51.9941, -240.2676)
  line L13 (-51.9941, -240.2676) -> (-51.9941, -242.1776)
  line L14 (-51.9941, -242.1776) -> (-55.3541, -242.1776)
  line L15 (-55.3541, -242.1776) -> (-55.3541, -240.2676)
  line L16 (30.0279, -139.2576) -> (26.4879, -139.2576)
  line L17 (26.4879, -139.2576) -> (26.4879, -160.5776)
  line L18 (30.0279, -139.2576) -> (30.0279, -160.5776)
  line L19 (30.0279, -160.5776) -> (26.4879, -160.5776)
  dimension "d233" = 3.54
  dimension "d234" = 21.32
  dimension "d235" = 21.32
extrude "Extrude17" cut sketch "Sketch32" against normal blind 50 contours L16 L17 L18 L19 bodies 4
sketch "Sketch33" plane through (0, 5, 0) normal (0, 1, 0) x (-1, 0, 0)
  line L0 (-55.3541, -240.2676) -> (-51.9941, -240.2676)
  line L1 (-51.9941, -240.2676) -> (-51.9941, -242.1776)
  line L2 (-51.9941, -242.1776) -> (-55.3541, -242.1776)
  line L3 (-55.3541, -242.1776) -> (-55.3541, -240.2676)
  line L4 (-39.5921, -237.4276) -> (-30.9921, -237.4276)
  line L5 (-30.9921, -237.4276) -> (-30.9921, -244.2776)
  line L6 (-30.9921, -244.2776) -> (-39.5921, -244.2776)
  line L7 (-39.5921, -244.2776) -> (-39.5921, -237.4276)
  line L8 (-4.9421, -237.3026) -> (-4.9421, -244.1526)
  line L9 (-4.9421, -244.1526) -> (-13.5421, -244.1526)
  line L10 (-13.5421, -244.1526) -> (-13.5421, -237.3026)
  line L11 (-13.5421, -237.3026) -> (-4.9421, -237.3026)
  circle A0 centre (-106.7421, -198.2276) radius 7.25
  circle A1 centre (-132.7421, -126.2276) radius 1.2645
  circle A2 centre (92.2579, -126.2276) radius 1.2645
  circle A3 centre (-132.7421, -253.2276) radius 1.2645
  circle A4 centre (92.2579, -253.2276) radius 1.2645
  line L12 (99.7579, -260.7276) -> (99.7579, -118.7276)
  line L13 (99.7579, -118.7276) -> (-140.2421, -118.7276)
  line L14 (-140.2421, -118.7276) -> (-140.2421, -260.7276)
  line L15 (-140.2421, -260.7276) -> (99.7579, -260.7276)
  line L16 (26.4879, -160.5776) -> (26.4879, -139.2576)
  line L17 (26.4879, -139.2576) -> (30.0279, -139.2576)
  line L18 (30.0279, -139.2576) -> (30.0279, -160.5776)
  line L19 (30.0279, -160.5776) -> (26.4879, -160.5776)
  line L20 (-78.9921, -197.9776) -> (-69.4921, -197.9776)
  line L21 (-78.9921, -197.9776) -> (-78.9921, -190.4776)
  line L22 (-69.4921, -197.9776) -> (-69.4921, -190.4776)
  line L23 (-69.4921, -190.4776) -> (-78.9921, -190.4776)
  dimension "d240" = 9.5
  dimension "d241" = 7.5
  dimension "d242" = 7.5
extrude "Extrude18" cut sketch "Sketch33" against normal blind 35 contours L20 L21 L22 L23 bodies 4
sketch "Sketch34" plane through (0, 5, 0) normal (0, 1, 0) x (-1, 0, 0)
  line L0 (26.4879, -160.5776) -> (26.4879, -139.2576)
  line L1 (26.4879, -139.2576) -> (30.0279, -139.2576)
  line L2 (30.0279, -139.2576) -> (30.0279, -160.5776)
  line L3 (30.0279, -160.5776) -> (26.4879, -160.5776)
  line L4 (99.7579, -260.7276) -> (99.7579, -118.7276)
  line L5 (99.7579, -118.7276) -> (-140.2421, -118.7276)
  line L6 (-140.2421, -118.7276) -> (-140.2421, -260.7276)
  line L7 (-140.2421, -260.7276) -> (99.7579, -260.7276)
  circle A0 centre (92.2579, -253.2276) radius 1.2645
  circle A1 centre (-132.7421, -253.2276) radius 1.2645
  circle A2 centre (92.2579, -126.2276) radius 1.2645
  circle A3 centre (-132.7421, -126.2276) radius 1.2645
  circle A4 centre (-106.7421, -198.2276) radius 7.25
  line L8 (-4.9421, -237.3026) -> (-4.9421, -244.1526)
  line L9 (-4.9421, -244.1526) -> (-13.5421, -244.1526)
  line L10 (-13.5421, -244.1526) -> (-13.5421, -237.3026)
  line L11 (-13.5421, -237.3026) -> (-4.9421, -237.3026)
  line L12 (-39.5921, -237.4276) -> (-30.9921, -237.4276)
  line L13 (-30.9921, -237.4276) -> (-30.9921, -244.2776)
  line L14 (-30.9921, -244.2776) -> (-39.5921, -244.2776)
  line L15 (-39.5921, -244.2776) -> (-39.5921, -237.4276)
  line L16 (-55.3541, -240.2676) -> (-51.9941, -240.2676)
  line L17 (-51.9941, -240.2676) -> (-51.9941, -242.1776)
  line L18 (-51.9941, -242.1776) -> (-55.3541, -242.1776)
  line L19 (-55.3541, -242.1776) -> (-55.3541, -240.2676)
  line L20 (-69.4921, -190.4776) -> (-69.4921, -197.9776)
  line L21 (-69.4921, -197.9776) -> (-78.9921, -197.9776)
  line L22 (-78.9921, -197.9776) -> (-78.9921, -190.4776)
  line L23 (-78.9921, -190.4776) -> (-69.4921, -190.4776)
  circle A5 centre (-171.5603, -186.5537) radius 2.5
  dimension "d245" = 5
extrude "Extrude19" add sketch "Sketch34" along normal blind 28 separate body contours A5 makes body 5
sketch "Sketch35" plane through (0, 33, 0) normal (0, 1, 0) x (-1, 0, 0)
  circle A0 centre (-171.5603, -186.5537) radius 2.5
  circle A1 centre (-171.5603, -186.5537) radius 7.5
  dimension "d248" = 15
extrude "Extrude20" add sketch "Sketch35" along normal blind 3 separate body makes body 6
sketch "Sketch36" plane through (0, 5, 0) normal (0, 1, 0) x (-1, 0, 0)
  line L0 (26.4879, -160.5776) -> (26.4879, -139.2576)
  line L1 (26.4879, -139.2576) -> (30.0279, -139.2576)
  line L2 (30.0279, -139.2576) -> (30.0279, -160.5776)
  line L3 (30.0279, -160.5776) -> (26.4879, -160.5776)
  line L4 (99.7579, -260.7276) -> (99.7579, -118.7276)
  line L5 (99.7579, -118.7276) -> (-140.2421, -118.7276)
  line L6 (-140.2421, -118.7276) -> (-140.2421, -260.7276)
  line L7 (-140.2421, -260.7276) -> (99.7579, -260.7276)
  circle A0 centre (92.2579, -253.2276) radius 1.2645
  circle A1 centre (-132.7421, -253.2276) radius 1.2645
  circle A2 centre (92.2579, -126.2276) radius 1.2645
  circle A3 centre (-132.7421, -126.2276) radius 1.2645
  circle A4 centre (-106.7421, -198.2276) radius 7.25
  line L8 (-4.9421, -237.3026) -> (-4.9421, -244.1526)
  line L9 (-4.9421, -244.1526) -> (-13.5421, -244.1526)
  line L10 (-13.5421, -244.1526) -> (-13.5421, -237.3026)
  line L11 (-13.5421, -237.3026) -> (-4.9421, -237.3026)
  line L12 (-39.5921, -237.4276) -> (-30.9921, -237.4276)
  line L13 (-30.9921, -237.4276) -> (-30.9921, -244.2776)
  line L14 (-30.9921, -244.2776) -> (-39.5921, -244.2776)
  line L15 (-39.5921, -244.2776) -> (-39.5921, -237.4276)
  line L16 (-55.3541, -240.2676) -> (-51.9941, -240.2676)
  line L17 (-51.9941, -240.2676) -> (-51.9941, -242.1776)
  line L18 (-51.9941, -242.1776) -> (-55.3541, -242.1776)
  line L19 (-55.3541, -242.1776) -> (-55.3541, -240.2676)
  line L20 (-69.4921, -190.4776) -> (-69.4921, -197.9776)
  line L21 (-69.4921, -197.9776) -> (-78.9921, -197.9776)
  line L22 (-78.9921, -197.9776) -> (-78.9921, -190.4776)
  line L23 (-78.9921, -190.4776) -> (-69.4921, -190.4776)
  line L24 (-76.9721, -223.9276) -> (-65.8721, -223.9276)
  line L25 (-65.8721, -223.9276) -> (-65.8721, -216.9276)
  line L26 (-76.9721, -223.9276) -> (-76.9721, -216.9276)
  line L27 (-65.8721, -216.9276) -> (-76.9721, -216.9276)
  dimension "d253" = 11.1
  dimension "d254" = 7
  dimension "d255" = 7
extrude "Extrude21" cut sketch "Sketch36" against normal blind 60 contours L24 L25 L26 L27 bodies 4
sketch "Sketch37" plane through (0, 5, 0) normal (0, 1, 0) x (-1, 0, 0)
  line L0 (-69.4921, -190.4776) -> (-69.4921, -197.9776)
  line L1 (-69.4921, -197.9776) -> (-78.9921, -197.9776)
  line L2 (-78.9921, -197.9776) -> (-78.9921, -190.4776)
  line L3 (-78.9921, -190.4776) -> (-69.4921, -190.4776)
  line L4 (-55.3541, -240.2676) -> (-51.9941, -240.2676)
  line L5 (-51.9941, -240.2676) -> (-51.9941, -242.1776)
  line L6 (-51.9941, -242.1776) -> (-55.3541, -242.1776)
  line L7 (-55.3541, -242.1776) -> (-55.3541, -240.2676)
  line L8 (-39.5921, -237.4276) -> (-30.9921, -237.4276)
  line L9 (-30.9921, -237.4276) -> (-30.9921, -244.2776)
  line L10 (-30.9921, -244.2776) -> (-39.5921, -244.2776)
  line L11 (-39.5921, -244.2776) -> (-39.5921, -237.4276)
  line L12 (-4.9421, -237.3026) -> (-4.9421, -244.1526)
  line L13 (-4.9421, -244.1526) -> (-13.5421, -244.1526)
  line L14 (-13.5421, -244.1526) -> (-13.5421, -237.3026)
  line L15 (-13.5421, -237.3026) -> (-4.9421, -237.3026)
  circle A0 centre (-106.7421, -198.2276) radius 7.25
  circle A1 centre (-132.7421, -126.2276) radius 1.2645
  circle A2 centre (92.2579, -126.2276) radius 1.2645
  circle A3 centre (-132.7421, -253.2276) radius 1.2645
  circle A4 centre (92.2579, -253.2276) radius 1.2645
  line L16 (99.7579, -260.7276) -> (99.7579, -118.7276)
  line L17 (99.7579, -118.7276) -> (-140.2421, -118.7276)
  line L18 (-140.2421, -118.7276) -> (-140.2421, -260.7276)
  line L19 (-140.2421, -260.7276) -> (99.7579, -260.7276)
  line L20 (26.4879, -160.5776) -> (26.4879, -139.2576)
  line L21 (26.4879, -139.2576) -> (30.0279, -139.2576)
  line L22 (30.0279, -139.2576) -> (30.0279, -160.5776)
  line L23 (30.0279, -160.5776) -> (26.4879, -160.5776)
  line L24 (-65.8721, -216.9276) -> (-65.8721, -223.9276)
  line L25 (-65.8721, -223.9276) -> (-76.9721, -223.9276)
  line L26 (-76.9721, -223.9276) -> (-76.9721, -216.9276)
  line L27 (-76.9721, -216.9276) -> (-65.8721, -216.9276)
  line L28 (-16.1921, -149.7276) -> (-16.1921, -156.7276)
  line L29 (-16.1921, -156.7276) -> (-27.2921, -156.7276)
  line L30 (-16.1921, -149.7276) -> (-27.2921, -149.7276)
  line L31 (-27.2921, -156.7276) -> (-27.2921, -149.7276)
  dimension "d260" = 7
  dimension "d261" = 11.1
  dimension "d262" = 11.1
extrude "Extrude22" cut sketch "Sketch37" against normal blind 20 contours L28 L29 L30 L31 bodies 4
